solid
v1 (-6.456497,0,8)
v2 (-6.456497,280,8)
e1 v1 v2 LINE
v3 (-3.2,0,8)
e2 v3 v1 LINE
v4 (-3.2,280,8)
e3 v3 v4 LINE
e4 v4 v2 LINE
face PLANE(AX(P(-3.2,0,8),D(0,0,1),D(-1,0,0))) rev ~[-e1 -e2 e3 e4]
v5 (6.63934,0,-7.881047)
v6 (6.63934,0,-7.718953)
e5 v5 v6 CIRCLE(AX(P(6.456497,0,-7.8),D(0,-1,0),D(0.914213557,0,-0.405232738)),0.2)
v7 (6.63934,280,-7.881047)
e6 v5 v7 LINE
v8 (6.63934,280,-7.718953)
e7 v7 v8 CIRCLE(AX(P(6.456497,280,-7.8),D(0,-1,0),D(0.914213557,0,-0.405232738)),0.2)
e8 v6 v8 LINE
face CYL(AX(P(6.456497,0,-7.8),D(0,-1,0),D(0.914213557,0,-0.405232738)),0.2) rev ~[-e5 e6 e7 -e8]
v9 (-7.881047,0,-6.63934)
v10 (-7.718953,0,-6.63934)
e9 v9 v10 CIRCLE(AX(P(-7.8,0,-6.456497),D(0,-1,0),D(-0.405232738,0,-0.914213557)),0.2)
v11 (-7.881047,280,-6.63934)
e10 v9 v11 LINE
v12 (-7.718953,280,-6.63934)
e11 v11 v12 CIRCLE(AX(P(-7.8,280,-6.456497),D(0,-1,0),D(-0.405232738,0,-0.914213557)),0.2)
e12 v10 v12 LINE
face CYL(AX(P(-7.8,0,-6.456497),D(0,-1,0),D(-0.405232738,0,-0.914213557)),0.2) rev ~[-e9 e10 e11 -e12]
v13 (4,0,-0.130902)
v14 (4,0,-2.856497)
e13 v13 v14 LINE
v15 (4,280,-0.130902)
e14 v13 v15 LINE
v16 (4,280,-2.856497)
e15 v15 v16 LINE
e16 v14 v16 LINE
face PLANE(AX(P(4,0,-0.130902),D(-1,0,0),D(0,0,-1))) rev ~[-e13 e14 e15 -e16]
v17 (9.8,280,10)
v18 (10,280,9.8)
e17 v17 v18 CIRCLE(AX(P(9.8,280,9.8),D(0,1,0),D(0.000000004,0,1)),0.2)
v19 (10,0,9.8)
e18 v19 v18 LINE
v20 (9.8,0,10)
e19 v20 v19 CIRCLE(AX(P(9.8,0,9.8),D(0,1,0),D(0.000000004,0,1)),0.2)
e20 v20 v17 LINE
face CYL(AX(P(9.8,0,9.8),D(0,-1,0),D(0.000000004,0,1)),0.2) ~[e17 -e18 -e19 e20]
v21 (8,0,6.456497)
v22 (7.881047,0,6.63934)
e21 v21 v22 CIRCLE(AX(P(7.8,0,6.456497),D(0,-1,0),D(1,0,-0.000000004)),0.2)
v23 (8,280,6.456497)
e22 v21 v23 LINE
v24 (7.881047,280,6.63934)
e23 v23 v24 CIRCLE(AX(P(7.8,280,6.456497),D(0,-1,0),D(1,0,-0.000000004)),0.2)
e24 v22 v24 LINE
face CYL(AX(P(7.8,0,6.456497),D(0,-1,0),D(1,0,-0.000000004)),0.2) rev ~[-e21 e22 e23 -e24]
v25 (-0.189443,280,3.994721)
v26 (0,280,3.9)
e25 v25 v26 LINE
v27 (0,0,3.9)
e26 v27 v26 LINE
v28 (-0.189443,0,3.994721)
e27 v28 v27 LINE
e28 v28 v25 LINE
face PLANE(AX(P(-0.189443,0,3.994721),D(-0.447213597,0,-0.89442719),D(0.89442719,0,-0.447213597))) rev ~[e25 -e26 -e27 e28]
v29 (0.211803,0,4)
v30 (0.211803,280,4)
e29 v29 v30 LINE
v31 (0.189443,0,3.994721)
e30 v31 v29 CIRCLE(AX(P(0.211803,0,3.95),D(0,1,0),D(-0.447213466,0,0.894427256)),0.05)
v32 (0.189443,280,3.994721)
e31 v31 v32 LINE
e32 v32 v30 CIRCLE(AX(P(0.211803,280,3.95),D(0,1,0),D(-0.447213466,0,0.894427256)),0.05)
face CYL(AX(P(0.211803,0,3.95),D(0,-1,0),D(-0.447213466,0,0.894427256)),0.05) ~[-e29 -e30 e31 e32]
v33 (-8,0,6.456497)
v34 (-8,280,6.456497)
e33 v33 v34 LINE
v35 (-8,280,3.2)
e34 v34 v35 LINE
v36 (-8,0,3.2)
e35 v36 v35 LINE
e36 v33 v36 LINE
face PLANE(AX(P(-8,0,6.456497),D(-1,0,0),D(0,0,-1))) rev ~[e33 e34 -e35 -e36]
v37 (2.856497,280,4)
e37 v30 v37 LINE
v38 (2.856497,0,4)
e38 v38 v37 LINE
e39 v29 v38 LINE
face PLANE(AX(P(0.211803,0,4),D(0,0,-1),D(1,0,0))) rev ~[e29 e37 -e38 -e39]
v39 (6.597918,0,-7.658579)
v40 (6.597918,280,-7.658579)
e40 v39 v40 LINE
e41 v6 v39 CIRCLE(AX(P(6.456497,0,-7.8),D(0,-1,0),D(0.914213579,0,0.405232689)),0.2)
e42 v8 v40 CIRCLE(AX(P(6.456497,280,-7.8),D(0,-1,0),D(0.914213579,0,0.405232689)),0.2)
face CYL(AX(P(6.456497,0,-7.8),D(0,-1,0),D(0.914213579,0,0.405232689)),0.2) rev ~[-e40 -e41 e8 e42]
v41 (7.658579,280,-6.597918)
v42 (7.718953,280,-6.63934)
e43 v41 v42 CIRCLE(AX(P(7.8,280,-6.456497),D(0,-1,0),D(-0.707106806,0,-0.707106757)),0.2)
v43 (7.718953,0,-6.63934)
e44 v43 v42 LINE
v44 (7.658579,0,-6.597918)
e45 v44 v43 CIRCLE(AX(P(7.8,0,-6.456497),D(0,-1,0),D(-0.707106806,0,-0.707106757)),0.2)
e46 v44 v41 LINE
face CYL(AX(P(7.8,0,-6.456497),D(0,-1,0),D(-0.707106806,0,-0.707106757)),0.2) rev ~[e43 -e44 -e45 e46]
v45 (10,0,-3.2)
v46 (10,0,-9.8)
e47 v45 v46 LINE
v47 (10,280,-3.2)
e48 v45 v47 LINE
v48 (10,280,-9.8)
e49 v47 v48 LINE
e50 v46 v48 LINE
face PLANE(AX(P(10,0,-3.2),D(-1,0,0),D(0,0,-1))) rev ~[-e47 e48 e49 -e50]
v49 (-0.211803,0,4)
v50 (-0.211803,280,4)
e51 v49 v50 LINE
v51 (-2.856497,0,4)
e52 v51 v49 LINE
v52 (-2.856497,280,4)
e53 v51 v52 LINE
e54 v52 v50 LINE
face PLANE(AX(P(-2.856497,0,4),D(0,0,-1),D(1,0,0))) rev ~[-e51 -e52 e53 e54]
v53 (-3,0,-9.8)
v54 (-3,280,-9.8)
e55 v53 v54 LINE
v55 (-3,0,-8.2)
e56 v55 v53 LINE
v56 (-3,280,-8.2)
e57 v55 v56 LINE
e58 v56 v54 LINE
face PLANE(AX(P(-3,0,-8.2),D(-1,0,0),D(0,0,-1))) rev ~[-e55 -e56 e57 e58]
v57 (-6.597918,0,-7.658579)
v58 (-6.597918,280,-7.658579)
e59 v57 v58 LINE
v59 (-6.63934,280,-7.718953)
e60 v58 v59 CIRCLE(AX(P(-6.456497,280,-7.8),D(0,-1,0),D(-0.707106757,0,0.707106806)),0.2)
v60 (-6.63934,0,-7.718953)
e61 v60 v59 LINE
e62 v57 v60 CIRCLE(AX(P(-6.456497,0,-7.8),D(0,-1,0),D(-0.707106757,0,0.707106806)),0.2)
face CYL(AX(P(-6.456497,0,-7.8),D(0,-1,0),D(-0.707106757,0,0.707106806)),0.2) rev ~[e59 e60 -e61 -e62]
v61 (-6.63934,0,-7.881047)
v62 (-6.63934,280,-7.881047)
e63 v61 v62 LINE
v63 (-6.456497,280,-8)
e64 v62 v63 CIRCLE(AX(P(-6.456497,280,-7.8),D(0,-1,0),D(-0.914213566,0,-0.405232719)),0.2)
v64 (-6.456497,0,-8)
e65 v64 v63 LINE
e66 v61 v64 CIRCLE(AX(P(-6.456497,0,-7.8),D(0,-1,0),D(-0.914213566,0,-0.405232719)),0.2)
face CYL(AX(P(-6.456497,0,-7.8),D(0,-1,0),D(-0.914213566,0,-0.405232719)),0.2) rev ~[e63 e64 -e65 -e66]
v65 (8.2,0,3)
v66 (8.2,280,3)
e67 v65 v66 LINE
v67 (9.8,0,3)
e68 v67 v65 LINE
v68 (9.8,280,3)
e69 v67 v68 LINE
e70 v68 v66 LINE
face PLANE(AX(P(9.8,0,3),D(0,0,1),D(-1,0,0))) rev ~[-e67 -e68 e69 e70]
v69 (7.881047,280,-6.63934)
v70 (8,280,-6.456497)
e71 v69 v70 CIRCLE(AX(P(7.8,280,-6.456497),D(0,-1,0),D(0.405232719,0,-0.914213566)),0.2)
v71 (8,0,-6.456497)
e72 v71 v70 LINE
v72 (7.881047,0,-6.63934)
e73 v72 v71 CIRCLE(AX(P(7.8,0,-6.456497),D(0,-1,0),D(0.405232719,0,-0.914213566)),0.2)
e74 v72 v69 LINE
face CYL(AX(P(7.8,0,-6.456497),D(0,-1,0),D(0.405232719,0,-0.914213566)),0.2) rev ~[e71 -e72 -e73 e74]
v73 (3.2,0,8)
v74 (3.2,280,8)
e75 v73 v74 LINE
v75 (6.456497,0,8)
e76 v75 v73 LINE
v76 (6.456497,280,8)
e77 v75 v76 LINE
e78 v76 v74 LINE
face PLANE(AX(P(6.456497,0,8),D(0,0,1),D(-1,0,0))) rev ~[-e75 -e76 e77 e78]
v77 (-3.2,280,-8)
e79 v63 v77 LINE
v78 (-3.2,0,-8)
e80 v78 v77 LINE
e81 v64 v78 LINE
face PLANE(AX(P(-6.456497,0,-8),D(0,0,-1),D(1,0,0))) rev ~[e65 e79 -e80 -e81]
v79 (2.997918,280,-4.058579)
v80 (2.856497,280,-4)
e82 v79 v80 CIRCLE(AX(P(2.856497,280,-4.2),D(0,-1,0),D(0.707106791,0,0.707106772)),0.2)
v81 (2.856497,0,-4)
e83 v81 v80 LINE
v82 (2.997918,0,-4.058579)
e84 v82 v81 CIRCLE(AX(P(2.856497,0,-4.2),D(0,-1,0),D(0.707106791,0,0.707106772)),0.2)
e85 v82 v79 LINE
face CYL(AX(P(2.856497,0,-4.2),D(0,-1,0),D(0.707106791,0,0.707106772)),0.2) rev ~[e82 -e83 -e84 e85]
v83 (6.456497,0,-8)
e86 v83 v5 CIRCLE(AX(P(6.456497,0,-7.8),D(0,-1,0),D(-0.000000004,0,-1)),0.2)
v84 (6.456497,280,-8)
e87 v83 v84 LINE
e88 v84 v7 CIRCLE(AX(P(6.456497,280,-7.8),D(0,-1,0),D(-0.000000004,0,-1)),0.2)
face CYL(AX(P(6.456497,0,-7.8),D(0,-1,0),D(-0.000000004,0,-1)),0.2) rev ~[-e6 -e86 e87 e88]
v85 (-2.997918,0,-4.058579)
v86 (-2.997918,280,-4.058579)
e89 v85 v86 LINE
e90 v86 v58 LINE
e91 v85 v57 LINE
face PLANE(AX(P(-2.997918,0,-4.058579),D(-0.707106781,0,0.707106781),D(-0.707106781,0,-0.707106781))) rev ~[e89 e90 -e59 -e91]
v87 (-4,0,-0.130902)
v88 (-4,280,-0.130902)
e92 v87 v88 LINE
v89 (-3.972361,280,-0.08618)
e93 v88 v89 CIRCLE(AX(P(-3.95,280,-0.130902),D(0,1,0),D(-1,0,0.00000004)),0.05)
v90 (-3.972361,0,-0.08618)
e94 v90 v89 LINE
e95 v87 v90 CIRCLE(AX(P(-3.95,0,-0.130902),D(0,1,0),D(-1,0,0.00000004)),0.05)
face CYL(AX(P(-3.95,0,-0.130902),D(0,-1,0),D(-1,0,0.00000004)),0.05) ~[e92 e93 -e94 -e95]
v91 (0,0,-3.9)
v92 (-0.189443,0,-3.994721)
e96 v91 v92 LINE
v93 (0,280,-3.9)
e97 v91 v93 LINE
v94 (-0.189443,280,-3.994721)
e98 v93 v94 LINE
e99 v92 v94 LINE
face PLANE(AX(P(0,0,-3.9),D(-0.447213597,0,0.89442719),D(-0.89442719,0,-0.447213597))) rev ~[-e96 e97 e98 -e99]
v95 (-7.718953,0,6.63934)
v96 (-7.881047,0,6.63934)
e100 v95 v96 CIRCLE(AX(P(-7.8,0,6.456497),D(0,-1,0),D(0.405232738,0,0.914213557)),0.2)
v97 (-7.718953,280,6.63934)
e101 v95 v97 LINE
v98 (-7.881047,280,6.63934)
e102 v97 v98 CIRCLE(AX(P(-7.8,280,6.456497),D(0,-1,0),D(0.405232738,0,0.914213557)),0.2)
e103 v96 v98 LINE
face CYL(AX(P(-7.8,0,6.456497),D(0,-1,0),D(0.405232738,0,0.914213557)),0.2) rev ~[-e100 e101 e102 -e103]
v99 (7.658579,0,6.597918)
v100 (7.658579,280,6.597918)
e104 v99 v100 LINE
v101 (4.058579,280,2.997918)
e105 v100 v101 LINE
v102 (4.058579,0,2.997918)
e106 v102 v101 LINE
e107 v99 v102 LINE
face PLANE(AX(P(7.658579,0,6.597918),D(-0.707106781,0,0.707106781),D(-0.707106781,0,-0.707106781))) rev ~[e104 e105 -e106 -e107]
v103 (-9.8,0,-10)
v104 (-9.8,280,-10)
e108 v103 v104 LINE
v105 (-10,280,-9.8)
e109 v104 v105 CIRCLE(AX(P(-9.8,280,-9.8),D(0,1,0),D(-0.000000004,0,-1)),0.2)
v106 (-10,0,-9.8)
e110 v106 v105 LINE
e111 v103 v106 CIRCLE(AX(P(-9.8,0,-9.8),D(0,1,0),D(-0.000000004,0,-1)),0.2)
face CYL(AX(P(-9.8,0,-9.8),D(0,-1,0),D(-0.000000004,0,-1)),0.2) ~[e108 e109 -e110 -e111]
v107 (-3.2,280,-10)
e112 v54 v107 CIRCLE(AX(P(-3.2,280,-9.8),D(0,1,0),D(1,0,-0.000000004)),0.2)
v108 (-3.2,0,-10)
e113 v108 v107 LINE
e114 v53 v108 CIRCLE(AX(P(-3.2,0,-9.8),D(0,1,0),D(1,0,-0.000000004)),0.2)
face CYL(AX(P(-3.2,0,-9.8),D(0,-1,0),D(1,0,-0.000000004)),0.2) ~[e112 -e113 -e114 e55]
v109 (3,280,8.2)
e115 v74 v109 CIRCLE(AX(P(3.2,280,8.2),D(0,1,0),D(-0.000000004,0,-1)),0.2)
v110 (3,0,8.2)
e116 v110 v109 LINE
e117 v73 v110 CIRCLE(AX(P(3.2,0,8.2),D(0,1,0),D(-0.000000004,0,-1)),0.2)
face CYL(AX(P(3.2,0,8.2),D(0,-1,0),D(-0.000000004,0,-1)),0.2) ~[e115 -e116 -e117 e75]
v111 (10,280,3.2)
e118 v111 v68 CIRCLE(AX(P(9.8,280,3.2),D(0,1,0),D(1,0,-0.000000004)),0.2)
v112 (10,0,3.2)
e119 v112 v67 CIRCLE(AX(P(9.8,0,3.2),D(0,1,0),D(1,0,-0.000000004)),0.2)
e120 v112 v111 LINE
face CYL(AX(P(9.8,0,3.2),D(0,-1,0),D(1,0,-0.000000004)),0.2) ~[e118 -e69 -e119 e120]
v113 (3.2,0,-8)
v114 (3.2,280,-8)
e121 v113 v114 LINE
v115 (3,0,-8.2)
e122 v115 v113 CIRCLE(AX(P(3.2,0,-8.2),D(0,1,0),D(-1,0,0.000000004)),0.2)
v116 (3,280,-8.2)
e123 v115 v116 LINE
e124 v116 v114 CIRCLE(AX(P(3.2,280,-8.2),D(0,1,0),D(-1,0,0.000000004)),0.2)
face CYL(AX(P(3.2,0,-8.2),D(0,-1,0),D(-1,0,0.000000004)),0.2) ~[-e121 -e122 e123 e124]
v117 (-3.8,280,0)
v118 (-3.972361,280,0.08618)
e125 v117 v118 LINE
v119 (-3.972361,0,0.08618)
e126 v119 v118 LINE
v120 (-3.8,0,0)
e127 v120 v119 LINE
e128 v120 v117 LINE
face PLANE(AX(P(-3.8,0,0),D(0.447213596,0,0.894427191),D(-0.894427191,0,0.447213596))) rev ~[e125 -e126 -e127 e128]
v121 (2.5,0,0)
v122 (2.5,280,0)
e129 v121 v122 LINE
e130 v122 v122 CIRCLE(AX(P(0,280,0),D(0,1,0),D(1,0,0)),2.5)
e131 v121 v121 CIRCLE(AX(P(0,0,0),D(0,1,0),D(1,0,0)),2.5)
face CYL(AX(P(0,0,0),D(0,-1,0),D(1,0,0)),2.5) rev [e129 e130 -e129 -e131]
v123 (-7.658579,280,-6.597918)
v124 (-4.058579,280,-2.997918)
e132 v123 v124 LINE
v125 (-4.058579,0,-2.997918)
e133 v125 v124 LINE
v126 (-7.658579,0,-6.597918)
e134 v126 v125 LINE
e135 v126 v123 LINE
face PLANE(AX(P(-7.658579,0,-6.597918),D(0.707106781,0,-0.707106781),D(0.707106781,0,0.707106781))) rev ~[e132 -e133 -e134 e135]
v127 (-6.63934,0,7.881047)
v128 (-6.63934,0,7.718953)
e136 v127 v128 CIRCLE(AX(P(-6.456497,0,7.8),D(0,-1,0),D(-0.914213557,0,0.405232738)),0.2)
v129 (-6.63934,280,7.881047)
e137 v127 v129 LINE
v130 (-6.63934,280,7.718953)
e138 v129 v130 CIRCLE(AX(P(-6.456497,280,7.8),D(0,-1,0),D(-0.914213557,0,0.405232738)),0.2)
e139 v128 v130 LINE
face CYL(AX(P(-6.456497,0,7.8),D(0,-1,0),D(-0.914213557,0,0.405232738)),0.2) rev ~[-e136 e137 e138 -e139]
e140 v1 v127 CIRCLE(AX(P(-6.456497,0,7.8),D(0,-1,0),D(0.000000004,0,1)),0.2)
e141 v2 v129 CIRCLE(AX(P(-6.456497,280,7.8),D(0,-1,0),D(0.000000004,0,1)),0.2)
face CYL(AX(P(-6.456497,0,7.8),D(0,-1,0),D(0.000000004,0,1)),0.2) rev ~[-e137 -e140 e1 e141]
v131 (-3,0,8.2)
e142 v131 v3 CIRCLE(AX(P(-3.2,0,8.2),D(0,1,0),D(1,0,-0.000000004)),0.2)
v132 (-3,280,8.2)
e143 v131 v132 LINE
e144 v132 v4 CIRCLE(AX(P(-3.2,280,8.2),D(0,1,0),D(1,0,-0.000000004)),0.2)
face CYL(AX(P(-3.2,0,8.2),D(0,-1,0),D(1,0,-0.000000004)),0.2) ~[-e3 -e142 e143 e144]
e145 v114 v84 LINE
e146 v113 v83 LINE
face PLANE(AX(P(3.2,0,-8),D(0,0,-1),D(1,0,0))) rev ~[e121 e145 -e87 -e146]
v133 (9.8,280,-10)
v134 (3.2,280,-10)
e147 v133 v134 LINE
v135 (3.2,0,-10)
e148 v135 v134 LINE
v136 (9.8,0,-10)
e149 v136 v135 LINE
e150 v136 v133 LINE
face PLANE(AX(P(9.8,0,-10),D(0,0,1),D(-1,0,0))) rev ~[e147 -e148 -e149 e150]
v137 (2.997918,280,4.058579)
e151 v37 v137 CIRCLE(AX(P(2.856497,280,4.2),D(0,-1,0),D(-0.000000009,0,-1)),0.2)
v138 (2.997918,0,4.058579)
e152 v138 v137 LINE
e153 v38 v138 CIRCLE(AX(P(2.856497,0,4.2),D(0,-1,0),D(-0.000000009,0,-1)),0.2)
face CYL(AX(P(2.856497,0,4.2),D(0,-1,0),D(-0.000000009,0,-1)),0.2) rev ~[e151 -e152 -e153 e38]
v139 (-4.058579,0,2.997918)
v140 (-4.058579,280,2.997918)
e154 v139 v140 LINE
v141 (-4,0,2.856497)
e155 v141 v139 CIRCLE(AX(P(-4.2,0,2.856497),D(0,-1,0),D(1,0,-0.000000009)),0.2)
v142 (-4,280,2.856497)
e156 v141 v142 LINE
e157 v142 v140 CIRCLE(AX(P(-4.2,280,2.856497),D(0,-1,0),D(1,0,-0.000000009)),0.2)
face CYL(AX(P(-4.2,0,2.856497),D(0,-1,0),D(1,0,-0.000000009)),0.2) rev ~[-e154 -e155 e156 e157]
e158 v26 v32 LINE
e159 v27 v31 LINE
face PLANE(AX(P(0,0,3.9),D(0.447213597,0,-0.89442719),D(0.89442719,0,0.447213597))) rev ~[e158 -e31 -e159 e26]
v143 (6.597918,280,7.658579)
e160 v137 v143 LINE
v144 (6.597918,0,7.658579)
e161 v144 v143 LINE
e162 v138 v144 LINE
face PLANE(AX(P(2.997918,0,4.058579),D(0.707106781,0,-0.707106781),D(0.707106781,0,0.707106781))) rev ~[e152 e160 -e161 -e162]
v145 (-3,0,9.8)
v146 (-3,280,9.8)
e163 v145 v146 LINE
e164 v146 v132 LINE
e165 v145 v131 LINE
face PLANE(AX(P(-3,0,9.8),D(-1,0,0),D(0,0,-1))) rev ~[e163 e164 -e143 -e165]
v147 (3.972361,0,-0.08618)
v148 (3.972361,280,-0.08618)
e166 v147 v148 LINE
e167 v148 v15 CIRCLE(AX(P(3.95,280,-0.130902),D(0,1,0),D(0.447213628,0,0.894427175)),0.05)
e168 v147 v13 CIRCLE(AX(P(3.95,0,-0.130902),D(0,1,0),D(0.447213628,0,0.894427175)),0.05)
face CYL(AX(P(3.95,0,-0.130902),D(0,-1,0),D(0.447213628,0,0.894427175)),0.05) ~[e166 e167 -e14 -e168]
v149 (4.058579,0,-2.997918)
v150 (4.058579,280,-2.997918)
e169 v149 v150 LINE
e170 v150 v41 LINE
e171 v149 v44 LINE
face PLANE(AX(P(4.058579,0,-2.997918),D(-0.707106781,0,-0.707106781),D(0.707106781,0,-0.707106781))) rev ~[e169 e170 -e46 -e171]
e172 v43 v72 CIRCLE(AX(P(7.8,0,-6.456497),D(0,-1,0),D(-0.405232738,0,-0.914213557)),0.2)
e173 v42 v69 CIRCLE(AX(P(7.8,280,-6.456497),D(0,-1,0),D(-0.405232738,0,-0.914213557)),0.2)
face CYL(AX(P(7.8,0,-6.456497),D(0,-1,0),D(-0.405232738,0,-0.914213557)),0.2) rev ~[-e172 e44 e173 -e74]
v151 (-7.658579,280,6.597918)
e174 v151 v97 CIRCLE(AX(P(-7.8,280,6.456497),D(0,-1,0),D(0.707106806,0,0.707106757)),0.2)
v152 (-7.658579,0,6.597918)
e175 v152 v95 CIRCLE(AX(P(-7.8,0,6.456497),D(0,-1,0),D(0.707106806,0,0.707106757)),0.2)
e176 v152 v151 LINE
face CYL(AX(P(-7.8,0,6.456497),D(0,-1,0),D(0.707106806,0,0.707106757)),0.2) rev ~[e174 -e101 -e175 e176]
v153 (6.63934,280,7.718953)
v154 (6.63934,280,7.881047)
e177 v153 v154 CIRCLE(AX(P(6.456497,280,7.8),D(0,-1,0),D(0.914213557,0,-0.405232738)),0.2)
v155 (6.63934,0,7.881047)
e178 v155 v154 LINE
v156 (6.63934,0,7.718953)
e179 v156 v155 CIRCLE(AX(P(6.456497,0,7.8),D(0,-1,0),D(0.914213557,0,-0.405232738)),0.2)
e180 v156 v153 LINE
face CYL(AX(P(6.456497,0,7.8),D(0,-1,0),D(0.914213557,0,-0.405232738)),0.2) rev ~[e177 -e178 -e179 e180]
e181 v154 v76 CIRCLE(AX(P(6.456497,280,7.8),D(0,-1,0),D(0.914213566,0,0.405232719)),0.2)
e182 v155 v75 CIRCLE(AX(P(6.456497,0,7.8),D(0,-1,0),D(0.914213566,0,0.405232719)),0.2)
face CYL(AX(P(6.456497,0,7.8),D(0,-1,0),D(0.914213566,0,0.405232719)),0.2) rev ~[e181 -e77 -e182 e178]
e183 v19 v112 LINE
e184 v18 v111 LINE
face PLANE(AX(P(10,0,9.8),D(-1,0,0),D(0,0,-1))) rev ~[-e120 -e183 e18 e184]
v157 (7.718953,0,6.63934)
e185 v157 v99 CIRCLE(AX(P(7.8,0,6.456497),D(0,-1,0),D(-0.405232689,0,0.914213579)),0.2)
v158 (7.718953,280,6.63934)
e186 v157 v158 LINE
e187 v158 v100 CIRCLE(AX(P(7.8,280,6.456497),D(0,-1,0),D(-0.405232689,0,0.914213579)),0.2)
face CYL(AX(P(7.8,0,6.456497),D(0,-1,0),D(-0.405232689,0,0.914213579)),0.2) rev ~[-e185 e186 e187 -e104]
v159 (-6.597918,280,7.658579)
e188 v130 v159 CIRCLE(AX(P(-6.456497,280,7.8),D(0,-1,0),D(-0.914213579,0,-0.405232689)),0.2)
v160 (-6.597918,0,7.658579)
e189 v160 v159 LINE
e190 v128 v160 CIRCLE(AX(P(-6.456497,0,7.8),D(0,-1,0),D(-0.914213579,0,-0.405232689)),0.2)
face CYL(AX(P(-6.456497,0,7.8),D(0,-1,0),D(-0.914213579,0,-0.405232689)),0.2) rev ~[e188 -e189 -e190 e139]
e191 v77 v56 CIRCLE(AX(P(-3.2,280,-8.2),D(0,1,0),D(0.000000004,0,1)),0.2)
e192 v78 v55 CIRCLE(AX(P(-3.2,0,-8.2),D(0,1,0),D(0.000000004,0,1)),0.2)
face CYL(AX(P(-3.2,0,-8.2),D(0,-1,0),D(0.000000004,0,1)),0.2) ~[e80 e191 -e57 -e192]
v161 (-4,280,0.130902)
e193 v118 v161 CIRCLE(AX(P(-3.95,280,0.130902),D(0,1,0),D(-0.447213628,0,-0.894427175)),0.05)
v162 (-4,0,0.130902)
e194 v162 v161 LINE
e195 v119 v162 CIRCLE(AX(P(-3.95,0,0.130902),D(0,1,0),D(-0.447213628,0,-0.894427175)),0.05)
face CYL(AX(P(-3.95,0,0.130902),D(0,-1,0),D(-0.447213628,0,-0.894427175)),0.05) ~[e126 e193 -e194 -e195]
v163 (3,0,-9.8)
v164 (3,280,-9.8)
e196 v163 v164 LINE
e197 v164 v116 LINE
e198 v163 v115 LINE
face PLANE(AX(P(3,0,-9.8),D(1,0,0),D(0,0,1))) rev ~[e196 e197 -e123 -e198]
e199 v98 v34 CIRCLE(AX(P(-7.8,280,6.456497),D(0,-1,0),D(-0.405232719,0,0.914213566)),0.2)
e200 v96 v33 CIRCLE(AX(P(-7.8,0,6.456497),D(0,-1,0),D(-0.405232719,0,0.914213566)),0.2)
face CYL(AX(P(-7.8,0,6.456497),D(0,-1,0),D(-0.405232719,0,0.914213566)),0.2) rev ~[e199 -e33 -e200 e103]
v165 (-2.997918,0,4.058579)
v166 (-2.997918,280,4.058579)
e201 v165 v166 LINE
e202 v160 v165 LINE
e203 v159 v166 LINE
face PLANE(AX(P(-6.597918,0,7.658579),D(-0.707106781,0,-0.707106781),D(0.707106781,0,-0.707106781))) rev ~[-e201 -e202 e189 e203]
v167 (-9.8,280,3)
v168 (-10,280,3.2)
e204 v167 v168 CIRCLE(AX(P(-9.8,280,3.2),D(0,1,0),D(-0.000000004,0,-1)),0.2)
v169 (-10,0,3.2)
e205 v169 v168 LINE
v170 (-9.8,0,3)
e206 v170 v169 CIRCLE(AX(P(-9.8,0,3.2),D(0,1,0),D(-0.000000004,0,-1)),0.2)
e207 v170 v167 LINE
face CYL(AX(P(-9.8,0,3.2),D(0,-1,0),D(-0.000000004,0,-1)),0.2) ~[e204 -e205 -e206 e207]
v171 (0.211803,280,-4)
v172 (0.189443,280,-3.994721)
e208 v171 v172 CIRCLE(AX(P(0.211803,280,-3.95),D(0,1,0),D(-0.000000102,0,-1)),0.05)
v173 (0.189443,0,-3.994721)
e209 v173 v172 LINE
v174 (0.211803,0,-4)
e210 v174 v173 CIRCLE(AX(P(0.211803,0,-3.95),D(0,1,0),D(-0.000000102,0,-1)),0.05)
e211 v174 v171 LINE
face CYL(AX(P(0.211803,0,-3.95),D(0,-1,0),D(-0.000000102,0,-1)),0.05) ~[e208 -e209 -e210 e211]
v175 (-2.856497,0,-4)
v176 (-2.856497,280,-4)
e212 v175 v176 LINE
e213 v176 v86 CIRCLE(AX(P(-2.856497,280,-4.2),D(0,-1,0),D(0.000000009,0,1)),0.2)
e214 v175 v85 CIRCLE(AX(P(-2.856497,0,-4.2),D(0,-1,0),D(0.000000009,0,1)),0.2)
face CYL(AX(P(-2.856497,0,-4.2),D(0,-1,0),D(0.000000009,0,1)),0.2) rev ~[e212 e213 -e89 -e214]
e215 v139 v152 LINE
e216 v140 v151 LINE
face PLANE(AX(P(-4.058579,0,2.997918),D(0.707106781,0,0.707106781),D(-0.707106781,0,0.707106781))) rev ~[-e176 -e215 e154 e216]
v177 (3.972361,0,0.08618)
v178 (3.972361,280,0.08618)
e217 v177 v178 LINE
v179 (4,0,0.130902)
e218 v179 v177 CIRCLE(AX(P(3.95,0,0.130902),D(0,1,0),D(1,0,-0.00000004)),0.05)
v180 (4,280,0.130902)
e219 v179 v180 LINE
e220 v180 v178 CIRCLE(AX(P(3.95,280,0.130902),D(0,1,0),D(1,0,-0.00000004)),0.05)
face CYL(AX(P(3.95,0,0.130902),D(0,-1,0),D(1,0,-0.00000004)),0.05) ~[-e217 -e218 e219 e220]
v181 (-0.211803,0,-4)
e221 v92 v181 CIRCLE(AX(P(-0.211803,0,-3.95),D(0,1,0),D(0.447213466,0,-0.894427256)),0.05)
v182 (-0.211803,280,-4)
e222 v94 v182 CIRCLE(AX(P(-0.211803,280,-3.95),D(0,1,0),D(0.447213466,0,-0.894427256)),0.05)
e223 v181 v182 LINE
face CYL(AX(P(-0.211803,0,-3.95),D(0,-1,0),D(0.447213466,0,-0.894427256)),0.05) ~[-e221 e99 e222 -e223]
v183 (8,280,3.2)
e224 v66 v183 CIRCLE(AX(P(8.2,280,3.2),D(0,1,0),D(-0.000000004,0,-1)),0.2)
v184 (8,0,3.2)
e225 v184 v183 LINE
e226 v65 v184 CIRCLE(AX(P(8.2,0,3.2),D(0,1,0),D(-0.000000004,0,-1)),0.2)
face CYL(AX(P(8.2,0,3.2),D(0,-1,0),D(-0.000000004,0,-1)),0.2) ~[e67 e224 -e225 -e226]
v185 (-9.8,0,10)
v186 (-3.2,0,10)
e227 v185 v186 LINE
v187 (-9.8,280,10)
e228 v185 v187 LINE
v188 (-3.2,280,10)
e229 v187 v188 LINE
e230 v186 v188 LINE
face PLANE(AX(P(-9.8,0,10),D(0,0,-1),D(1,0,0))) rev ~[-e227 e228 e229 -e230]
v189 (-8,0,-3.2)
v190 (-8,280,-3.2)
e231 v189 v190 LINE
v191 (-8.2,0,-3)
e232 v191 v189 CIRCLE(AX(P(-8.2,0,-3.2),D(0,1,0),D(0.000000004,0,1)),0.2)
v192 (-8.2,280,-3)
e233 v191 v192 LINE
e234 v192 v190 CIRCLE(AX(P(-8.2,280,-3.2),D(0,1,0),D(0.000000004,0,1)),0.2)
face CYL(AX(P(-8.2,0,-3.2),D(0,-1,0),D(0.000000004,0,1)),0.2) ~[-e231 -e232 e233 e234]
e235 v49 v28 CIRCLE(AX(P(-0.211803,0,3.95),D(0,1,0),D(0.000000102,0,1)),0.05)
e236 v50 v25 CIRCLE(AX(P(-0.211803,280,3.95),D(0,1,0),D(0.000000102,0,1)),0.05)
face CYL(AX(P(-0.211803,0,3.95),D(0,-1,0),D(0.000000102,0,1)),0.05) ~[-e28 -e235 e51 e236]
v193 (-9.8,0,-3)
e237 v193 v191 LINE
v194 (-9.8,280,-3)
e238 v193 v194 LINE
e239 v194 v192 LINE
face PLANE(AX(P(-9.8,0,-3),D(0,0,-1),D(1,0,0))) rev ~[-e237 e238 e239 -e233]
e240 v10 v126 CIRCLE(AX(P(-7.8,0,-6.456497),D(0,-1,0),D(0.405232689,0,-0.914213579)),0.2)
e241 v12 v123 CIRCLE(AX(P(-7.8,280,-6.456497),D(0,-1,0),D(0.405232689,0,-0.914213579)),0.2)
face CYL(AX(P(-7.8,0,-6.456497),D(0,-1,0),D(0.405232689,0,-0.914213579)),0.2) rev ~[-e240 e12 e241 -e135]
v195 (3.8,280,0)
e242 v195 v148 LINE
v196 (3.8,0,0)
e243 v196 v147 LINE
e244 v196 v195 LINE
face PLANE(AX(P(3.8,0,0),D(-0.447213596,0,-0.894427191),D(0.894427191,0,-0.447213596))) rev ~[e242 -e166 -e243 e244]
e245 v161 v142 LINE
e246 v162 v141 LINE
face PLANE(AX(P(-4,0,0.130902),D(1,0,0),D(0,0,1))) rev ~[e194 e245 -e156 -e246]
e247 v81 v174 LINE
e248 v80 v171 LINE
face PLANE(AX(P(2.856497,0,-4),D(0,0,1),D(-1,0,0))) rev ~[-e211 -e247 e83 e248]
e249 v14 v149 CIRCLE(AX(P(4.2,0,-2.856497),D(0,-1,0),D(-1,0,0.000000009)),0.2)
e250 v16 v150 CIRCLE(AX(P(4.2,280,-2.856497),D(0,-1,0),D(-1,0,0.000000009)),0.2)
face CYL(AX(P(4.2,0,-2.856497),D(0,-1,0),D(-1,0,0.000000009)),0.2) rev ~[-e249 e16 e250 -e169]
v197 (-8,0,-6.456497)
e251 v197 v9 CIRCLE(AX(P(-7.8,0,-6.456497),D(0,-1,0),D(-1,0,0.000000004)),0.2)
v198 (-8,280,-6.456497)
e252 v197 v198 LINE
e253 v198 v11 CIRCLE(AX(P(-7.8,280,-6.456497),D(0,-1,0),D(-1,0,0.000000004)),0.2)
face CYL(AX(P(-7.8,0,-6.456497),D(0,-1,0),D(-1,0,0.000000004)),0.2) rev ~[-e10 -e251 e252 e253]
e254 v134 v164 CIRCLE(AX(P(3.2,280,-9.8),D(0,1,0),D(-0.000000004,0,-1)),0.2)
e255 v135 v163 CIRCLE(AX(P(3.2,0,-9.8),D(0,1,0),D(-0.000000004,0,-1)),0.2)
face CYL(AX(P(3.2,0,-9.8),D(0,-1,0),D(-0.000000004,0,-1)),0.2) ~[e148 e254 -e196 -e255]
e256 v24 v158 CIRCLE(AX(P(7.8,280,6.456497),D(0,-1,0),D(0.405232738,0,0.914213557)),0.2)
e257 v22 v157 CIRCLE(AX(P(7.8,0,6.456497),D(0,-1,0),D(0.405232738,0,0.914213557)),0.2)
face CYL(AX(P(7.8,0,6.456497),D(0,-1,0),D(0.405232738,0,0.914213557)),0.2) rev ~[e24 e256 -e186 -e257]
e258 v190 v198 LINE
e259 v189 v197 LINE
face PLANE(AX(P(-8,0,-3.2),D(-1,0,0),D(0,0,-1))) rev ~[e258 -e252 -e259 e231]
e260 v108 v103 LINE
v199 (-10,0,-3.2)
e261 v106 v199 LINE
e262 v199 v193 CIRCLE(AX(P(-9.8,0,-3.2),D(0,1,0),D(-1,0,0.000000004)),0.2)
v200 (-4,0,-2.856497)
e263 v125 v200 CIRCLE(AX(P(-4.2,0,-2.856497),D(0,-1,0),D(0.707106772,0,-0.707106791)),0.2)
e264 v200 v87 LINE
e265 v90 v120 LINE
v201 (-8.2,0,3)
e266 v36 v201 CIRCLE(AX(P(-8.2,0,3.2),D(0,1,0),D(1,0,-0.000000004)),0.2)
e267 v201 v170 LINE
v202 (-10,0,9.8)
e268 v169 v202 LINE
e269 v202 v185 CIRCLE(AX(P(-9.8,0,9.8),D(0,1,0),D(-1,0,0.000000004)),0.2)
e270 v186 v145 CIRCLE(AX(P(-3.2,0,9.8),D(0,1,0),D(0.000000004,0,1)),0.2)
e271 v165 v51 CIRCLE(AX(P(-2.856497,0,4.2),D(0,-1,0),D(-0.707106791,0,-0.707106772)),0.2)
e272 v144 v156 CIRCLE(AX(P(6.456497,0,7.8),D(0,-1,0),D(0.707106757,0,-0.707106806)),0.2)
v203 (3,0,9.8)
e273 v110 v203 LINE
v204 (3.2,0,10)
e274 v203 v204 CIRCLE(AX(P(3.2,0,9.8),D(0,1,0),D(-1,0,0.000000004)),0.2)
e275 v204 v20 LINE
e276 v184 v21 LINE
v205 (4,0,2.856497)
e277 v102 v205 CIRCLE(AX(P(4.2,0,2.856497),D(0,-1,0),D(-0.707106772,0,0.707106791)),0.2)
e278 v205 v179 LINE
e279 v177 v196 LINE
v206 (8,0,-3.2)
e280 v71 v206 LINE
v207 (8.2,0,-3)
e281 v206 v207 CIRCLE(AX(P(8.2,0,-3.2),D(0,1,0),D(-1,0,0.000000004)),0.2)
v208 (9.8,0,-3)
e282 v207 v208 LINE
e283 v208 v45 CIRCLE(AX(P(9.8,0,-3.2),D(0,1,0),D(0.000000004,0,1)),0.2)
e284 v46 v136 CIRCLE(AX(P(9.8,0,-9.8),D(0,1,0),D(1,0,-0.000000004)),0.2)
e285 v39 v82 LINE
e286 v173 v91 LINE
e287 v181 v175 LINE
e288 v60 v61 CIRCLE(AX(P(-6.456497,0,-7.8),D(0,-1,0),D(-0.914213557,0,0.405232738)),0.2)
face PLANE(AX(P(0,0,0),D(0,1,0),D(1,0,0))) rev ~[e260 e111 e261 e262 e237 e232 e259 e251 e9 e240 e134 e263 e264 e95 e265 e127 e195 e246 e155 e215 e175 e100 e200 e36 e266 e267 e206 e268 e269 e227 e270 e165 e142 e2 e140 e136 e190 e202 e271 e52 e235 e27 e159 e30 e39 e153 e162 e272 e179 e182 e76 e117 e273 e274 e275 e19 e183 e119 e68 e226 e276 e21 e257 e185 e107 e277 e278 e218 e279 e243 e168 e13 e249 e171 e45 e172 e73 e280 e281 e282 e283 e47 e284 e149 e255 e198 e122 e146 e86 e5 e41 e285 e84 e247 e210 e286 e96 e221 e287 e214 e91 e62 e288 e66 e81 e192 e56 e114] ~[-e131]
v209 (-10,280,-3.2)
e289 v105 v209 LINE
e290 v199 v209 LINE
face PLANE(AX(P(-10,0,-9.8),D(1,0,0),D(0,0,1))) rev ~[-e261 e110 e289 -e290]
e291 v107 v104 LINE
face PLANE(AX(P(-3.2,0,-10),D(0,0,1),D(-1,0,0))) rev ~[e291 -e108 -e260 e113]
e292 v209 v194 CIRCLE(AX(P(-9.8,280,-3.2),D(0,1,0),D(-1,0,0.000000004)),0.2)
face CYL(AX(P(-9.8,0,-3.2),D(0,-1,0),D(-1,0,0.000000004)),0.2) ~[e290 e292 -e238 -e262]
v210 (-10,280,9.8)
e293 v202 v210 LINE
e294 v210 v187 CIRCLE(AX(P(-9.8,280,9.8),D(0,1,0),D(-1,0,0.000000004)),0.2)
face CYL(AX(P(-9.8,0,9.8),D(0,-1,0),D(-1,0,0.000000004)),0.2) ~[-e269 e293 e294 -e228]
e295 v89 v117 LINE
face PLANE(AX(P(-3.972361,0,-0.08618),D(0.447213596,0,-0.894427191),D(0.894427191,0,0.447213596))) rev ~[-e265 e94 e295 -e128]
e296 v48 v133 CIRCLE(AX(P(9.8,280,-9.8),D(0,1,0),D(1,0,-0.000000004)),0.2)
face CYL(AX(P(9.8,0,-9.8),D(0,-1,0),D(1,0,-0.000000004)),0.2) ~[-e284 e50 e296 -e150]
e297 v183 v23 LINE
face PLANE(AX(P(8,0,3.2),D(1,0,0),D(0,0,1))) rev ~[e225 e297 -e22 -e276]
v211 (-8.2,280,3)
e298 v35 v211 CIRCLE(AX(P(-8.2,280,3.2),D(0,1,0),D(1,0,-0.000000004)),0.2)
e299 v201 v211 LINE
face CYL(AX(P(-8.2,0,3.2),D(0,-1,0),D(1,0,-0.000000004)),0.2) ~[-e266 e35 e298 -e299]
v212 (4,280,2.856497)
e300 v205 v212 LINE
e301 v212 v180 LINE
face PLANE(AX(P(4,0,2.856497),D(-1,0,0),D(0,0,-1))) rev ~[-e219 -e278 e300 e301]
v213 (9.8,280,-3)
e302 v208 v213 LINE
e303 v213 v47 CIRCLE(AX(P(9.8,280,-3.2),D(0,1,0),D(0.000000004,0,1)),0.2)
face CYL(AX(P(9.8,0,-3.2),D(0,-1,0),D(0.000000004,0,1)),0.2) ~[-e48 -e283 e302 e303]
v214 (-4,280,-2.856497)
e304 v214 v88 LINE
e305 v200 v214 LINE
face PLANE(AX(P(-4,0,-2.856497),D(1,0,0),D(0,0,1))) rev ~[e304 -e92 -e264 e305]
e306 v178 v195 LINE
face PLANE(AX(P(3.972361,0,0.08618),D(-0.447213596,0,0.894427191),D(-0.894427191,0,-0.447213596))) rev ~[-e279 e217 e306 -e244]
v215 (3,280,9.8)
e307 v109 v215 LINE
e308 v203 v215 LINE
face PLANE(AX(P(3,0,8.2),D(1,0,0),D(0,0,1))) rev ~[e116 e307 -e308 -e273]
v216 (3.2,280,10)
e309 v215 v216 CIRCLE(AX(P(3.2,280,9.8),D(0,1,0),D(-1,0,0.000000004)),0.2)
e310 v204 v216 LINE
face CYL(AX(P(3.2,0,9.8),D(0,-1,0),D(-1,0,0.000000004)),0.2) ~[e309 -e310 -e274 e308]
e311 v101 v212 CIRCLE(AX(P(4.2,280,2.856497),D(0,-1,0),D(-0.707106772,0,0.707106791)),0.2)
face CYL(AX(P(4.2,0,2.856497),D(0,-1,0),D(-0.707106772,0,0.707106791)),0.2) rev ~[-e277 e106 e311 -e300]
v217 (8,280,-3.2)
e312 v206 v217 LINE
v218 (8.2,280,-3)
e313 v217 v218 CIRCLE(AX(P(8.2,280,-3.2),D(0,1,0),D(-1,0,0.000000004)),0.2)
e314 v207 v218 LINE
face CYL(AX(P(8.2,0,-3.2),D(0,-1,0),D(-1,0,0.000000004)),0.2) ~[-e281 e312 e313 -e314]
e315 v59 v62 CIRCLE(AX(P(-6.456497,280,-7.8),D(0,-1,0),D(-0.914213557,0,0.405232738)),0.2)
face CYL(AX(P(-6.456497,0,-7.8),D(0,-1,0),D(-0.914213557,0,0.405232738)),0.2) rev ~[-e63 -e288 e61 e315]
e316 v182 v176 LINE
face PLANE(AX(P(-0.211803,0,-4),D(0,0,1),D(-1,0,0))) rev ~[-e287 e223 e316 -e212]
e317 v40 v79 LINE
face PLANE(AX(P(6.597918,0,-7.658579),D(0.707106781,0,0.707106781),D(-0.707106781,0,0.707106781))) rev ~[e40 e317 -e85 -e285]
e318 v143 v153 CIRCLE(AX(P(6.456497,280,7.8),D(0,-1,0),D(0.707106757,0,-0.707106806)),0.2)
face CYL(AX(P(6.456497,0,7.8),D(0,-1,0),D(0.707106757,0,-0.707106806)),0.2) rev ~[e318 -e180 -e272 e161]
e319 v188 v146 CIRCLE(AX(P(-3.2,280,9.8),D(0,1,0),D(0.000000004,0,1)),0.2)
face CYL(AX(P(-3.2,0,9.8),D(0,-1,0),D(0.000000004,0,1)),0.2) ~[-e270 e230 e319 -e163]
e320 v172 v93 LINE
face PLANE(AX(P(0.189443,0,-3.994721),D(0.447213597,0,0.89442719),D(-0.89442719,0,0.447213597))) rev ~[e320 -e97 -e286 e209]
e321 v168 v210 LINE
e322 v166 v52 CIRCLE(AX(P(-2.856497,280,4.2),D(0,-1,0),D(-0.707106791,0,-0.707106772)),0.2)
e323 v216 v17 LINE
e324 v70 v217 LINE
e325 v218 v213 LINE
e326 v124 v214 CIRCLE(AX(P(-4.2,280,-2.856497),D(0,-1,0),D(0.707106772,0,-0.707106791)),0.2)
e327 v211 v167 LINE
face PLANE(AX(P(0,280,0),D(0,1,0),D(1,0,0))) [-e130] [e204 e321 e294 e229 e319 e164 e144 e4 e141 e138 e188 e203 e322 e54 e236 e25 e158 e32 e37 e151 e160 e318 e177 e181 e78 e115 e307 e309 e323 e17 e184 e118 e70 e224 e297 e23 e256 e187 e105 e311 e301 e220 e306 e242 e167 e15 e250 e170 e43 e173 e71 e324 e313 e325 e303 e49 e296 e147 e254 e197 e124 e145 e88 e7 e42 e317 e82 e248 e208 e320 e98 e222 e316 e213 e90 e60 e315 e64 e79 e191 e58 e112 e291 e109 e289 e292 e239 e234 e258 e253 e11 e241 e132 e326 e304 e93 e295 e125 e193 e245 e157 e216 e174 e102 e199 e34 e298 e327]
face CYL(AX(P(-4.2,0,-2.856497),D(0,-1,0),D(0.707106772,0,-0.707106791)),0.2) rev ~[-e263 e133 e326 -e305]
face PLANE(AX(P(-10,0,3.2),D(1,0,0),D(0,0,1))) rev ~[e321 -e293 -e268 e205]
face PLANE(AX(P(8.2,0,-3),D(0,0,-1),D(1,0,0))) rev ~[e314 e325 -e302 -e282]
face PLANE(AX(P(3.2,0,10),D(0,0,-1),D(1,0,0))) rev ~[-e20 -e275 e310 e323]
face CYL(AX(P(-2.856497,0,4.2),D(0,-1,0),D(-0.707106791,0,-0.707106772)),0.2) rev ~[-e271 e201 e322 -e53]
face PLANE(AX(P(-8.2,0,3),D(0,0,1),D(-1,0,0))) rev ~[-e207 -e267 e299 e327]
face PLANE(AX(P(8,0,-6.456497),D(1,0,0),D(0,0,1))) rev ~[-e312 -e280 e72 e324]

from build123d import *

# Parameters (mm, degrees)
SKETCH1_R           = 2.5
BOSS_EXTRUDE1_DEPTH = 280


with BuildPart() as part:
    # Sketch1 → Boss-Extrude1 (new body)
    with BuildSketch(Plane(origin=(0, 0, 0), x_dir=(1, 0, 0), z_dir=(0, 1, 0))):
        with BuildLine():
            Line((-2.997918472, 4.058578644), (-6.597918472, 7.658578644))
            ThreePointArc((-6.597918472, 7.658578644), (-6.621415508, 7.686854412), (-6.639339828, 7.718953455))
            ThreePointArc((-6.639339828, 7.718953455), (-6.656497116, 7.8), (-6.639339828, 7.881046545))
            ThreePointArc((-6.639339828, 7.881046545), (-6.565562901, 7.967644429), (-6.456497116, 8))
            Line((-6.456497116, 8), (-3.2, 8))
            ThreePointArc((-3.2, 8), (-3.058578644, 8.058578644), (-3, 8.2))
            Line((-3, 8.2), (-3, 9.8))
            ThreePointArc((-3, 9.8), (-3.058578644, 9.941421356), (-3.2, 10))
            Line((-3.2, 10), (-9.8, 10))
            ThreePointArc((-9.8, 10), (-9.941421356, 9.941421356), (-10, 9.8))
            Line((-10, 9.8), (-10, 3.2))
            ThreePointArc((-10, 3.2), (-9.941421356, 3.058578644), (-9.8, 3))
            Line((-9.8, 3), (-8.2, 3))
            ThreePointArc((-8.2, 3), (-8.058578644, 3.058578644), (-8, 3.2))
            Line((-8, 3.2), (-8, 6.456497116))
            ThreePointArc((-8, 6.456497116), (-7.967644429, 6.565562901), (-7.881046545, 6.639339828))
            ThreePointArc((-7.881046545, 6.639339828), (-7.8, 6.656497116), (-7.718953455, 6.639339828))
            ThreePointArc((-7.718953455, 6.639339828), (-7.686854412, 6.621415508), (-7.658578644, 6.597918472))
            Line((-7.658578644, 6.597918472), (-4.058578644, 2.997918472))
            ThreePointArc((-4.058578644, 2.997918472), (-4.015224093, 2.933033802), (-4, 2.856497116))
            Line((-4, 2.856497116), (-4, 0.130901699))
            ThreePointArc((-4, 0.130901699), (-3.99253254, 0.104615144), (-3.97236068, 0.08618034))
            Line((-3.97236068, 0.08618034), (-3.8, 0))
            Line((-3.8, 0), (-3.97236068, -0.08618034))
            ThreePointArc((-3.97236068, -0.08618034), (-3.99253254, -0.104615144), (-4, -0.130901699))
            Line((-4, -0.130901699), (-4, -2.856497116))
            ThreePointArc((-4, -2.856497116), (-4.015224093, -2.933033802), (-4.058578644, -2.997918472))
            Line((-4.058578644, -2.997918472), (-7.658578644, -6.597918472))
            ThreePointArc((-7.658578644, -6.597918472), (-7.686854412, -6.621415508), (-7.718953455, -6.639339828))
            ThreePointArc((-7.718953455, -6.639339828), (-7.8, -6.656497116), (-7.881046545, -6.639339828))
            ThreePointArc((-7.881046545, -6.639339828), (-7.967644429, -6.565562901), (-8, -6.456497116))
            Line((-8, -6.456497116), (-8, -3.2))
            ThreePointArc((-8, -3.2), (-8.058578644, -3.058578644), (-8.2, -3))
            Line((-8.2, -3), (-9.8, -3))
            ThreePointArc((-9.8, -3), (-9.941421356, -3.058578644), (-10, -3.2))
            Line((-10, -3.2), (-10, -9.8))
            ThreePointArc((-10, -9.8), (-9.941421356, -9.941421356), (-9.8, -10))
            Line((-9.8, -10), (-3.2, -10))
            ThreePointArc((-3.2, -10), (-3.058578644, -9.941421356), (-3, -9.8))
            Line((-3, -9.8), (-3, -8.2))
            ThreePointArc((-3, -8.2), (-3.058578644, -8.058578644), (-3.2, -8))
            Line((-3.2, -8), (-6.456497116, -8))
            ThreePointArc((-6.456497116, -8), (-6.565562901, -7.967644429), (-6.639339828, -7.881046545))
            ThreePointArc((-6.639339828, -7.881046545), (-6.656497116, -7.8), (-6.639339828, -7.718953455))
            ThreePointArc((-6.639339828, -7.718953455), (-6.621415508, -7.686854412), (-6.597918472, -7.658578644))
            Line((-6.597918472, -7.658578644), (-2.997918472, -4.058578644))
            ThreePointArc((-2.997918472, -4.058578644), (-2.933033802, -4.015224093), (-2.856497116, -4))
            Line((-2.856497116, -4), (-0.211803399, -4))
            ThreePointArc((-0.211803399, -4), (-0.200315753, -3.998662449), (-0.189442719, -3.99472136))
            Line((-0.189442719, -3.99472136), (0, -3.9))
            Line((0, -3.9), (0.189442719, -3.99472136))
            ThreePointArc((0.189442719, -3.99472136), (0.200315753, -3.998662449), (0.211803399, -4))
            Line((0.211803399, -4), (2.856497116, -4))
            ThreePointArc((2.856497116, -4), (2.933033802, -4.015224093), (2.997918472, -4.058578644))
            Line((2.997918472, -4.058578644), (6.597918472, -7.658578644))
            ThreePointArc((6.597918472, -7.658578644), (6.621415508, -7.686854412), (6.639339828, -7.718953455))
            ThreePointArc((6.639339828, -7.718953455), (6.656497116, -7.8), (6.639339828, -7.881046545))
            ThreePointArc((6.639339828, -7.881046545), (6.565562901, -7.967644429), (6.456497116, -8))
            Line((6.456497116, -8), (3.2, -8))
            ThreePointArc((3.2, -8), (3.058578644, -8.058578644), (3, -8.2))
            Line((3, -8.2), (3, -9.8))
            ThreePointArc((3, -9.8), (3.058578644, -9.941421356), (3.2, -10))
            Line((3.2, -10), (9.8, -10))
            ThreePointArc((9.8, -10), (9.941421356, -9.941421356), (10, -9.8))
            Line((10, -9.8), (10, -3.2))
            ThreePointArc((10, -3.2), (9.941421356, -3.058578644), (9.8, -3))
            Line((9.8, -3), (8.2, -3))
            ThreePointArc((8.2, -3), (8.058578644, -3.058578644), (8, -3.2))
            Line((8, -3.2), (8, -6.456497116))
            ThreePointArc((8, -6.456497116), (7.967644429, -6.565562901), (7.881046545, -6.639339828))
            ThreePointArc((7.881046545, -6.639339828), (7.8, -6.656497116), (7.718953455, -6.639339828))
            ThreePointArc((7.718953455, -6.639339828), (7.686854412, -6.621415508), (7.658578644, -6.597918472))
            Line((7.658578644, -6.597918472), (4.058578644, -2.997918472))
            ThreePointArc((4.058578644, -2.997918472), (4.015224093, -2.933033802), (4, -2.856497116))
            Line((4, -2.856497116), (4, -0.130901699))
            ThreePointArc((4, -0.130901699), (3.99253254, -0.104615144), (3.97236068, -0.08618034))
            Line((3.97236068, -0.08618034), (3.8, 0))
            Line((3.8, 0), (3.97236068, 0.08618034))
            ThreePointArc((3.97236068, 0.08618034), (3.99253254, 0.104615144), (4, 0.130901699))
            Line((4, 0.130901699), (4, 2.856497116))
            ThreePointArc((4, 2.856497116), (4.015224093, 2.933033802), (4.058578644, 2.997918472))
            Line((4.058578644, 2.997918472), (7.658578644, 6.597918472))
            ThreePointArc((7.658578644, 6.597918472), (7.686854412, 6.621415508), (7.718953455, 6.639339828))
            ThreePointArc((7.718953455, 6.639339828), (7.8, 6.656497116), (7.881046545, 6.639339828))
            ThreePointArc((7.881046545, 6.639339828), (7.967644429, 6.565562901), (8, 6.456497116))
            Line((8, 6.456497116), (8, 3.2))
            ThreePointArc((8, 3.2), (8.058578644, 3.058578644), (8.2, 3))
            Line((8.2, 3), (9.8, 3))
            ThreePointArc((9.8, 3), (9.941421356, 3.058578644), (10, 3.2))
            Line((10, 3.2), (10, 9.8))
            ThreePointArc((10, 9.8), (9.941421356, 9.941421356), (9.8, 10))
            Line((9.8, 10), (3.2, 10))
            ThreePointArc((3.2, 10), (3.058578644, 9.941421356), (3, 9.8))
            Line((3, 9.8), (3, 8.2))
            ThreePointArc((3, 8.2), (3.058578644, 8.058578644), (3.2, 8))
            Line((3.2, 8), (6.456497116, 8))
            ThreePointArc((6.456497116, 8), (6.565562901, 7.967644429), (6.639339828, 7.881046545))
            ThreePointArc((6.639339828, 7.881046545), (6.656497116, 7.8), (6.639339828, 7.718953455))
            ThreePointArc((6.639339828, 7.718953455), (6.621415508, 7.686854412), (6.597918472, 7.658578644))
            Line((6.597918472, 7.658578644), (2.997918472, 4.058578644))
            ThreePointArc((2.997918472, 4.058578644), (2.933033802, 4.015224093), (2.856497116, 4))
            Line((2.856497116, 4), (0.211803399, 4))
            ThreePointArc((0.211803399, 4), (0.200315753, 3.998662449), (0.189442719, 3.99472136))
            Line((0.189442719, 3.99472136), (0, 3.9))
            Line((0, 3.9), (-0.189442719, 3.99472136))
            ThreePointArc((-0.189442719, 3.99472136), (-0.200315753, 3.998662449), (-0.211803399, 4))
            Line((-0.211803399, 4), (-2.856497116, 4))
            ThreePointArc((-2.856497116, 4), (-2.933033802, 4.015224093), (-2.997918472, 4.058578644))
        make_face()
        Circle(SKETCH1_R, mode=Mode.SUBTRACT)
    extrude(amount=BOSS_EXTRUDE1_DEPTH)


solid = part.part
